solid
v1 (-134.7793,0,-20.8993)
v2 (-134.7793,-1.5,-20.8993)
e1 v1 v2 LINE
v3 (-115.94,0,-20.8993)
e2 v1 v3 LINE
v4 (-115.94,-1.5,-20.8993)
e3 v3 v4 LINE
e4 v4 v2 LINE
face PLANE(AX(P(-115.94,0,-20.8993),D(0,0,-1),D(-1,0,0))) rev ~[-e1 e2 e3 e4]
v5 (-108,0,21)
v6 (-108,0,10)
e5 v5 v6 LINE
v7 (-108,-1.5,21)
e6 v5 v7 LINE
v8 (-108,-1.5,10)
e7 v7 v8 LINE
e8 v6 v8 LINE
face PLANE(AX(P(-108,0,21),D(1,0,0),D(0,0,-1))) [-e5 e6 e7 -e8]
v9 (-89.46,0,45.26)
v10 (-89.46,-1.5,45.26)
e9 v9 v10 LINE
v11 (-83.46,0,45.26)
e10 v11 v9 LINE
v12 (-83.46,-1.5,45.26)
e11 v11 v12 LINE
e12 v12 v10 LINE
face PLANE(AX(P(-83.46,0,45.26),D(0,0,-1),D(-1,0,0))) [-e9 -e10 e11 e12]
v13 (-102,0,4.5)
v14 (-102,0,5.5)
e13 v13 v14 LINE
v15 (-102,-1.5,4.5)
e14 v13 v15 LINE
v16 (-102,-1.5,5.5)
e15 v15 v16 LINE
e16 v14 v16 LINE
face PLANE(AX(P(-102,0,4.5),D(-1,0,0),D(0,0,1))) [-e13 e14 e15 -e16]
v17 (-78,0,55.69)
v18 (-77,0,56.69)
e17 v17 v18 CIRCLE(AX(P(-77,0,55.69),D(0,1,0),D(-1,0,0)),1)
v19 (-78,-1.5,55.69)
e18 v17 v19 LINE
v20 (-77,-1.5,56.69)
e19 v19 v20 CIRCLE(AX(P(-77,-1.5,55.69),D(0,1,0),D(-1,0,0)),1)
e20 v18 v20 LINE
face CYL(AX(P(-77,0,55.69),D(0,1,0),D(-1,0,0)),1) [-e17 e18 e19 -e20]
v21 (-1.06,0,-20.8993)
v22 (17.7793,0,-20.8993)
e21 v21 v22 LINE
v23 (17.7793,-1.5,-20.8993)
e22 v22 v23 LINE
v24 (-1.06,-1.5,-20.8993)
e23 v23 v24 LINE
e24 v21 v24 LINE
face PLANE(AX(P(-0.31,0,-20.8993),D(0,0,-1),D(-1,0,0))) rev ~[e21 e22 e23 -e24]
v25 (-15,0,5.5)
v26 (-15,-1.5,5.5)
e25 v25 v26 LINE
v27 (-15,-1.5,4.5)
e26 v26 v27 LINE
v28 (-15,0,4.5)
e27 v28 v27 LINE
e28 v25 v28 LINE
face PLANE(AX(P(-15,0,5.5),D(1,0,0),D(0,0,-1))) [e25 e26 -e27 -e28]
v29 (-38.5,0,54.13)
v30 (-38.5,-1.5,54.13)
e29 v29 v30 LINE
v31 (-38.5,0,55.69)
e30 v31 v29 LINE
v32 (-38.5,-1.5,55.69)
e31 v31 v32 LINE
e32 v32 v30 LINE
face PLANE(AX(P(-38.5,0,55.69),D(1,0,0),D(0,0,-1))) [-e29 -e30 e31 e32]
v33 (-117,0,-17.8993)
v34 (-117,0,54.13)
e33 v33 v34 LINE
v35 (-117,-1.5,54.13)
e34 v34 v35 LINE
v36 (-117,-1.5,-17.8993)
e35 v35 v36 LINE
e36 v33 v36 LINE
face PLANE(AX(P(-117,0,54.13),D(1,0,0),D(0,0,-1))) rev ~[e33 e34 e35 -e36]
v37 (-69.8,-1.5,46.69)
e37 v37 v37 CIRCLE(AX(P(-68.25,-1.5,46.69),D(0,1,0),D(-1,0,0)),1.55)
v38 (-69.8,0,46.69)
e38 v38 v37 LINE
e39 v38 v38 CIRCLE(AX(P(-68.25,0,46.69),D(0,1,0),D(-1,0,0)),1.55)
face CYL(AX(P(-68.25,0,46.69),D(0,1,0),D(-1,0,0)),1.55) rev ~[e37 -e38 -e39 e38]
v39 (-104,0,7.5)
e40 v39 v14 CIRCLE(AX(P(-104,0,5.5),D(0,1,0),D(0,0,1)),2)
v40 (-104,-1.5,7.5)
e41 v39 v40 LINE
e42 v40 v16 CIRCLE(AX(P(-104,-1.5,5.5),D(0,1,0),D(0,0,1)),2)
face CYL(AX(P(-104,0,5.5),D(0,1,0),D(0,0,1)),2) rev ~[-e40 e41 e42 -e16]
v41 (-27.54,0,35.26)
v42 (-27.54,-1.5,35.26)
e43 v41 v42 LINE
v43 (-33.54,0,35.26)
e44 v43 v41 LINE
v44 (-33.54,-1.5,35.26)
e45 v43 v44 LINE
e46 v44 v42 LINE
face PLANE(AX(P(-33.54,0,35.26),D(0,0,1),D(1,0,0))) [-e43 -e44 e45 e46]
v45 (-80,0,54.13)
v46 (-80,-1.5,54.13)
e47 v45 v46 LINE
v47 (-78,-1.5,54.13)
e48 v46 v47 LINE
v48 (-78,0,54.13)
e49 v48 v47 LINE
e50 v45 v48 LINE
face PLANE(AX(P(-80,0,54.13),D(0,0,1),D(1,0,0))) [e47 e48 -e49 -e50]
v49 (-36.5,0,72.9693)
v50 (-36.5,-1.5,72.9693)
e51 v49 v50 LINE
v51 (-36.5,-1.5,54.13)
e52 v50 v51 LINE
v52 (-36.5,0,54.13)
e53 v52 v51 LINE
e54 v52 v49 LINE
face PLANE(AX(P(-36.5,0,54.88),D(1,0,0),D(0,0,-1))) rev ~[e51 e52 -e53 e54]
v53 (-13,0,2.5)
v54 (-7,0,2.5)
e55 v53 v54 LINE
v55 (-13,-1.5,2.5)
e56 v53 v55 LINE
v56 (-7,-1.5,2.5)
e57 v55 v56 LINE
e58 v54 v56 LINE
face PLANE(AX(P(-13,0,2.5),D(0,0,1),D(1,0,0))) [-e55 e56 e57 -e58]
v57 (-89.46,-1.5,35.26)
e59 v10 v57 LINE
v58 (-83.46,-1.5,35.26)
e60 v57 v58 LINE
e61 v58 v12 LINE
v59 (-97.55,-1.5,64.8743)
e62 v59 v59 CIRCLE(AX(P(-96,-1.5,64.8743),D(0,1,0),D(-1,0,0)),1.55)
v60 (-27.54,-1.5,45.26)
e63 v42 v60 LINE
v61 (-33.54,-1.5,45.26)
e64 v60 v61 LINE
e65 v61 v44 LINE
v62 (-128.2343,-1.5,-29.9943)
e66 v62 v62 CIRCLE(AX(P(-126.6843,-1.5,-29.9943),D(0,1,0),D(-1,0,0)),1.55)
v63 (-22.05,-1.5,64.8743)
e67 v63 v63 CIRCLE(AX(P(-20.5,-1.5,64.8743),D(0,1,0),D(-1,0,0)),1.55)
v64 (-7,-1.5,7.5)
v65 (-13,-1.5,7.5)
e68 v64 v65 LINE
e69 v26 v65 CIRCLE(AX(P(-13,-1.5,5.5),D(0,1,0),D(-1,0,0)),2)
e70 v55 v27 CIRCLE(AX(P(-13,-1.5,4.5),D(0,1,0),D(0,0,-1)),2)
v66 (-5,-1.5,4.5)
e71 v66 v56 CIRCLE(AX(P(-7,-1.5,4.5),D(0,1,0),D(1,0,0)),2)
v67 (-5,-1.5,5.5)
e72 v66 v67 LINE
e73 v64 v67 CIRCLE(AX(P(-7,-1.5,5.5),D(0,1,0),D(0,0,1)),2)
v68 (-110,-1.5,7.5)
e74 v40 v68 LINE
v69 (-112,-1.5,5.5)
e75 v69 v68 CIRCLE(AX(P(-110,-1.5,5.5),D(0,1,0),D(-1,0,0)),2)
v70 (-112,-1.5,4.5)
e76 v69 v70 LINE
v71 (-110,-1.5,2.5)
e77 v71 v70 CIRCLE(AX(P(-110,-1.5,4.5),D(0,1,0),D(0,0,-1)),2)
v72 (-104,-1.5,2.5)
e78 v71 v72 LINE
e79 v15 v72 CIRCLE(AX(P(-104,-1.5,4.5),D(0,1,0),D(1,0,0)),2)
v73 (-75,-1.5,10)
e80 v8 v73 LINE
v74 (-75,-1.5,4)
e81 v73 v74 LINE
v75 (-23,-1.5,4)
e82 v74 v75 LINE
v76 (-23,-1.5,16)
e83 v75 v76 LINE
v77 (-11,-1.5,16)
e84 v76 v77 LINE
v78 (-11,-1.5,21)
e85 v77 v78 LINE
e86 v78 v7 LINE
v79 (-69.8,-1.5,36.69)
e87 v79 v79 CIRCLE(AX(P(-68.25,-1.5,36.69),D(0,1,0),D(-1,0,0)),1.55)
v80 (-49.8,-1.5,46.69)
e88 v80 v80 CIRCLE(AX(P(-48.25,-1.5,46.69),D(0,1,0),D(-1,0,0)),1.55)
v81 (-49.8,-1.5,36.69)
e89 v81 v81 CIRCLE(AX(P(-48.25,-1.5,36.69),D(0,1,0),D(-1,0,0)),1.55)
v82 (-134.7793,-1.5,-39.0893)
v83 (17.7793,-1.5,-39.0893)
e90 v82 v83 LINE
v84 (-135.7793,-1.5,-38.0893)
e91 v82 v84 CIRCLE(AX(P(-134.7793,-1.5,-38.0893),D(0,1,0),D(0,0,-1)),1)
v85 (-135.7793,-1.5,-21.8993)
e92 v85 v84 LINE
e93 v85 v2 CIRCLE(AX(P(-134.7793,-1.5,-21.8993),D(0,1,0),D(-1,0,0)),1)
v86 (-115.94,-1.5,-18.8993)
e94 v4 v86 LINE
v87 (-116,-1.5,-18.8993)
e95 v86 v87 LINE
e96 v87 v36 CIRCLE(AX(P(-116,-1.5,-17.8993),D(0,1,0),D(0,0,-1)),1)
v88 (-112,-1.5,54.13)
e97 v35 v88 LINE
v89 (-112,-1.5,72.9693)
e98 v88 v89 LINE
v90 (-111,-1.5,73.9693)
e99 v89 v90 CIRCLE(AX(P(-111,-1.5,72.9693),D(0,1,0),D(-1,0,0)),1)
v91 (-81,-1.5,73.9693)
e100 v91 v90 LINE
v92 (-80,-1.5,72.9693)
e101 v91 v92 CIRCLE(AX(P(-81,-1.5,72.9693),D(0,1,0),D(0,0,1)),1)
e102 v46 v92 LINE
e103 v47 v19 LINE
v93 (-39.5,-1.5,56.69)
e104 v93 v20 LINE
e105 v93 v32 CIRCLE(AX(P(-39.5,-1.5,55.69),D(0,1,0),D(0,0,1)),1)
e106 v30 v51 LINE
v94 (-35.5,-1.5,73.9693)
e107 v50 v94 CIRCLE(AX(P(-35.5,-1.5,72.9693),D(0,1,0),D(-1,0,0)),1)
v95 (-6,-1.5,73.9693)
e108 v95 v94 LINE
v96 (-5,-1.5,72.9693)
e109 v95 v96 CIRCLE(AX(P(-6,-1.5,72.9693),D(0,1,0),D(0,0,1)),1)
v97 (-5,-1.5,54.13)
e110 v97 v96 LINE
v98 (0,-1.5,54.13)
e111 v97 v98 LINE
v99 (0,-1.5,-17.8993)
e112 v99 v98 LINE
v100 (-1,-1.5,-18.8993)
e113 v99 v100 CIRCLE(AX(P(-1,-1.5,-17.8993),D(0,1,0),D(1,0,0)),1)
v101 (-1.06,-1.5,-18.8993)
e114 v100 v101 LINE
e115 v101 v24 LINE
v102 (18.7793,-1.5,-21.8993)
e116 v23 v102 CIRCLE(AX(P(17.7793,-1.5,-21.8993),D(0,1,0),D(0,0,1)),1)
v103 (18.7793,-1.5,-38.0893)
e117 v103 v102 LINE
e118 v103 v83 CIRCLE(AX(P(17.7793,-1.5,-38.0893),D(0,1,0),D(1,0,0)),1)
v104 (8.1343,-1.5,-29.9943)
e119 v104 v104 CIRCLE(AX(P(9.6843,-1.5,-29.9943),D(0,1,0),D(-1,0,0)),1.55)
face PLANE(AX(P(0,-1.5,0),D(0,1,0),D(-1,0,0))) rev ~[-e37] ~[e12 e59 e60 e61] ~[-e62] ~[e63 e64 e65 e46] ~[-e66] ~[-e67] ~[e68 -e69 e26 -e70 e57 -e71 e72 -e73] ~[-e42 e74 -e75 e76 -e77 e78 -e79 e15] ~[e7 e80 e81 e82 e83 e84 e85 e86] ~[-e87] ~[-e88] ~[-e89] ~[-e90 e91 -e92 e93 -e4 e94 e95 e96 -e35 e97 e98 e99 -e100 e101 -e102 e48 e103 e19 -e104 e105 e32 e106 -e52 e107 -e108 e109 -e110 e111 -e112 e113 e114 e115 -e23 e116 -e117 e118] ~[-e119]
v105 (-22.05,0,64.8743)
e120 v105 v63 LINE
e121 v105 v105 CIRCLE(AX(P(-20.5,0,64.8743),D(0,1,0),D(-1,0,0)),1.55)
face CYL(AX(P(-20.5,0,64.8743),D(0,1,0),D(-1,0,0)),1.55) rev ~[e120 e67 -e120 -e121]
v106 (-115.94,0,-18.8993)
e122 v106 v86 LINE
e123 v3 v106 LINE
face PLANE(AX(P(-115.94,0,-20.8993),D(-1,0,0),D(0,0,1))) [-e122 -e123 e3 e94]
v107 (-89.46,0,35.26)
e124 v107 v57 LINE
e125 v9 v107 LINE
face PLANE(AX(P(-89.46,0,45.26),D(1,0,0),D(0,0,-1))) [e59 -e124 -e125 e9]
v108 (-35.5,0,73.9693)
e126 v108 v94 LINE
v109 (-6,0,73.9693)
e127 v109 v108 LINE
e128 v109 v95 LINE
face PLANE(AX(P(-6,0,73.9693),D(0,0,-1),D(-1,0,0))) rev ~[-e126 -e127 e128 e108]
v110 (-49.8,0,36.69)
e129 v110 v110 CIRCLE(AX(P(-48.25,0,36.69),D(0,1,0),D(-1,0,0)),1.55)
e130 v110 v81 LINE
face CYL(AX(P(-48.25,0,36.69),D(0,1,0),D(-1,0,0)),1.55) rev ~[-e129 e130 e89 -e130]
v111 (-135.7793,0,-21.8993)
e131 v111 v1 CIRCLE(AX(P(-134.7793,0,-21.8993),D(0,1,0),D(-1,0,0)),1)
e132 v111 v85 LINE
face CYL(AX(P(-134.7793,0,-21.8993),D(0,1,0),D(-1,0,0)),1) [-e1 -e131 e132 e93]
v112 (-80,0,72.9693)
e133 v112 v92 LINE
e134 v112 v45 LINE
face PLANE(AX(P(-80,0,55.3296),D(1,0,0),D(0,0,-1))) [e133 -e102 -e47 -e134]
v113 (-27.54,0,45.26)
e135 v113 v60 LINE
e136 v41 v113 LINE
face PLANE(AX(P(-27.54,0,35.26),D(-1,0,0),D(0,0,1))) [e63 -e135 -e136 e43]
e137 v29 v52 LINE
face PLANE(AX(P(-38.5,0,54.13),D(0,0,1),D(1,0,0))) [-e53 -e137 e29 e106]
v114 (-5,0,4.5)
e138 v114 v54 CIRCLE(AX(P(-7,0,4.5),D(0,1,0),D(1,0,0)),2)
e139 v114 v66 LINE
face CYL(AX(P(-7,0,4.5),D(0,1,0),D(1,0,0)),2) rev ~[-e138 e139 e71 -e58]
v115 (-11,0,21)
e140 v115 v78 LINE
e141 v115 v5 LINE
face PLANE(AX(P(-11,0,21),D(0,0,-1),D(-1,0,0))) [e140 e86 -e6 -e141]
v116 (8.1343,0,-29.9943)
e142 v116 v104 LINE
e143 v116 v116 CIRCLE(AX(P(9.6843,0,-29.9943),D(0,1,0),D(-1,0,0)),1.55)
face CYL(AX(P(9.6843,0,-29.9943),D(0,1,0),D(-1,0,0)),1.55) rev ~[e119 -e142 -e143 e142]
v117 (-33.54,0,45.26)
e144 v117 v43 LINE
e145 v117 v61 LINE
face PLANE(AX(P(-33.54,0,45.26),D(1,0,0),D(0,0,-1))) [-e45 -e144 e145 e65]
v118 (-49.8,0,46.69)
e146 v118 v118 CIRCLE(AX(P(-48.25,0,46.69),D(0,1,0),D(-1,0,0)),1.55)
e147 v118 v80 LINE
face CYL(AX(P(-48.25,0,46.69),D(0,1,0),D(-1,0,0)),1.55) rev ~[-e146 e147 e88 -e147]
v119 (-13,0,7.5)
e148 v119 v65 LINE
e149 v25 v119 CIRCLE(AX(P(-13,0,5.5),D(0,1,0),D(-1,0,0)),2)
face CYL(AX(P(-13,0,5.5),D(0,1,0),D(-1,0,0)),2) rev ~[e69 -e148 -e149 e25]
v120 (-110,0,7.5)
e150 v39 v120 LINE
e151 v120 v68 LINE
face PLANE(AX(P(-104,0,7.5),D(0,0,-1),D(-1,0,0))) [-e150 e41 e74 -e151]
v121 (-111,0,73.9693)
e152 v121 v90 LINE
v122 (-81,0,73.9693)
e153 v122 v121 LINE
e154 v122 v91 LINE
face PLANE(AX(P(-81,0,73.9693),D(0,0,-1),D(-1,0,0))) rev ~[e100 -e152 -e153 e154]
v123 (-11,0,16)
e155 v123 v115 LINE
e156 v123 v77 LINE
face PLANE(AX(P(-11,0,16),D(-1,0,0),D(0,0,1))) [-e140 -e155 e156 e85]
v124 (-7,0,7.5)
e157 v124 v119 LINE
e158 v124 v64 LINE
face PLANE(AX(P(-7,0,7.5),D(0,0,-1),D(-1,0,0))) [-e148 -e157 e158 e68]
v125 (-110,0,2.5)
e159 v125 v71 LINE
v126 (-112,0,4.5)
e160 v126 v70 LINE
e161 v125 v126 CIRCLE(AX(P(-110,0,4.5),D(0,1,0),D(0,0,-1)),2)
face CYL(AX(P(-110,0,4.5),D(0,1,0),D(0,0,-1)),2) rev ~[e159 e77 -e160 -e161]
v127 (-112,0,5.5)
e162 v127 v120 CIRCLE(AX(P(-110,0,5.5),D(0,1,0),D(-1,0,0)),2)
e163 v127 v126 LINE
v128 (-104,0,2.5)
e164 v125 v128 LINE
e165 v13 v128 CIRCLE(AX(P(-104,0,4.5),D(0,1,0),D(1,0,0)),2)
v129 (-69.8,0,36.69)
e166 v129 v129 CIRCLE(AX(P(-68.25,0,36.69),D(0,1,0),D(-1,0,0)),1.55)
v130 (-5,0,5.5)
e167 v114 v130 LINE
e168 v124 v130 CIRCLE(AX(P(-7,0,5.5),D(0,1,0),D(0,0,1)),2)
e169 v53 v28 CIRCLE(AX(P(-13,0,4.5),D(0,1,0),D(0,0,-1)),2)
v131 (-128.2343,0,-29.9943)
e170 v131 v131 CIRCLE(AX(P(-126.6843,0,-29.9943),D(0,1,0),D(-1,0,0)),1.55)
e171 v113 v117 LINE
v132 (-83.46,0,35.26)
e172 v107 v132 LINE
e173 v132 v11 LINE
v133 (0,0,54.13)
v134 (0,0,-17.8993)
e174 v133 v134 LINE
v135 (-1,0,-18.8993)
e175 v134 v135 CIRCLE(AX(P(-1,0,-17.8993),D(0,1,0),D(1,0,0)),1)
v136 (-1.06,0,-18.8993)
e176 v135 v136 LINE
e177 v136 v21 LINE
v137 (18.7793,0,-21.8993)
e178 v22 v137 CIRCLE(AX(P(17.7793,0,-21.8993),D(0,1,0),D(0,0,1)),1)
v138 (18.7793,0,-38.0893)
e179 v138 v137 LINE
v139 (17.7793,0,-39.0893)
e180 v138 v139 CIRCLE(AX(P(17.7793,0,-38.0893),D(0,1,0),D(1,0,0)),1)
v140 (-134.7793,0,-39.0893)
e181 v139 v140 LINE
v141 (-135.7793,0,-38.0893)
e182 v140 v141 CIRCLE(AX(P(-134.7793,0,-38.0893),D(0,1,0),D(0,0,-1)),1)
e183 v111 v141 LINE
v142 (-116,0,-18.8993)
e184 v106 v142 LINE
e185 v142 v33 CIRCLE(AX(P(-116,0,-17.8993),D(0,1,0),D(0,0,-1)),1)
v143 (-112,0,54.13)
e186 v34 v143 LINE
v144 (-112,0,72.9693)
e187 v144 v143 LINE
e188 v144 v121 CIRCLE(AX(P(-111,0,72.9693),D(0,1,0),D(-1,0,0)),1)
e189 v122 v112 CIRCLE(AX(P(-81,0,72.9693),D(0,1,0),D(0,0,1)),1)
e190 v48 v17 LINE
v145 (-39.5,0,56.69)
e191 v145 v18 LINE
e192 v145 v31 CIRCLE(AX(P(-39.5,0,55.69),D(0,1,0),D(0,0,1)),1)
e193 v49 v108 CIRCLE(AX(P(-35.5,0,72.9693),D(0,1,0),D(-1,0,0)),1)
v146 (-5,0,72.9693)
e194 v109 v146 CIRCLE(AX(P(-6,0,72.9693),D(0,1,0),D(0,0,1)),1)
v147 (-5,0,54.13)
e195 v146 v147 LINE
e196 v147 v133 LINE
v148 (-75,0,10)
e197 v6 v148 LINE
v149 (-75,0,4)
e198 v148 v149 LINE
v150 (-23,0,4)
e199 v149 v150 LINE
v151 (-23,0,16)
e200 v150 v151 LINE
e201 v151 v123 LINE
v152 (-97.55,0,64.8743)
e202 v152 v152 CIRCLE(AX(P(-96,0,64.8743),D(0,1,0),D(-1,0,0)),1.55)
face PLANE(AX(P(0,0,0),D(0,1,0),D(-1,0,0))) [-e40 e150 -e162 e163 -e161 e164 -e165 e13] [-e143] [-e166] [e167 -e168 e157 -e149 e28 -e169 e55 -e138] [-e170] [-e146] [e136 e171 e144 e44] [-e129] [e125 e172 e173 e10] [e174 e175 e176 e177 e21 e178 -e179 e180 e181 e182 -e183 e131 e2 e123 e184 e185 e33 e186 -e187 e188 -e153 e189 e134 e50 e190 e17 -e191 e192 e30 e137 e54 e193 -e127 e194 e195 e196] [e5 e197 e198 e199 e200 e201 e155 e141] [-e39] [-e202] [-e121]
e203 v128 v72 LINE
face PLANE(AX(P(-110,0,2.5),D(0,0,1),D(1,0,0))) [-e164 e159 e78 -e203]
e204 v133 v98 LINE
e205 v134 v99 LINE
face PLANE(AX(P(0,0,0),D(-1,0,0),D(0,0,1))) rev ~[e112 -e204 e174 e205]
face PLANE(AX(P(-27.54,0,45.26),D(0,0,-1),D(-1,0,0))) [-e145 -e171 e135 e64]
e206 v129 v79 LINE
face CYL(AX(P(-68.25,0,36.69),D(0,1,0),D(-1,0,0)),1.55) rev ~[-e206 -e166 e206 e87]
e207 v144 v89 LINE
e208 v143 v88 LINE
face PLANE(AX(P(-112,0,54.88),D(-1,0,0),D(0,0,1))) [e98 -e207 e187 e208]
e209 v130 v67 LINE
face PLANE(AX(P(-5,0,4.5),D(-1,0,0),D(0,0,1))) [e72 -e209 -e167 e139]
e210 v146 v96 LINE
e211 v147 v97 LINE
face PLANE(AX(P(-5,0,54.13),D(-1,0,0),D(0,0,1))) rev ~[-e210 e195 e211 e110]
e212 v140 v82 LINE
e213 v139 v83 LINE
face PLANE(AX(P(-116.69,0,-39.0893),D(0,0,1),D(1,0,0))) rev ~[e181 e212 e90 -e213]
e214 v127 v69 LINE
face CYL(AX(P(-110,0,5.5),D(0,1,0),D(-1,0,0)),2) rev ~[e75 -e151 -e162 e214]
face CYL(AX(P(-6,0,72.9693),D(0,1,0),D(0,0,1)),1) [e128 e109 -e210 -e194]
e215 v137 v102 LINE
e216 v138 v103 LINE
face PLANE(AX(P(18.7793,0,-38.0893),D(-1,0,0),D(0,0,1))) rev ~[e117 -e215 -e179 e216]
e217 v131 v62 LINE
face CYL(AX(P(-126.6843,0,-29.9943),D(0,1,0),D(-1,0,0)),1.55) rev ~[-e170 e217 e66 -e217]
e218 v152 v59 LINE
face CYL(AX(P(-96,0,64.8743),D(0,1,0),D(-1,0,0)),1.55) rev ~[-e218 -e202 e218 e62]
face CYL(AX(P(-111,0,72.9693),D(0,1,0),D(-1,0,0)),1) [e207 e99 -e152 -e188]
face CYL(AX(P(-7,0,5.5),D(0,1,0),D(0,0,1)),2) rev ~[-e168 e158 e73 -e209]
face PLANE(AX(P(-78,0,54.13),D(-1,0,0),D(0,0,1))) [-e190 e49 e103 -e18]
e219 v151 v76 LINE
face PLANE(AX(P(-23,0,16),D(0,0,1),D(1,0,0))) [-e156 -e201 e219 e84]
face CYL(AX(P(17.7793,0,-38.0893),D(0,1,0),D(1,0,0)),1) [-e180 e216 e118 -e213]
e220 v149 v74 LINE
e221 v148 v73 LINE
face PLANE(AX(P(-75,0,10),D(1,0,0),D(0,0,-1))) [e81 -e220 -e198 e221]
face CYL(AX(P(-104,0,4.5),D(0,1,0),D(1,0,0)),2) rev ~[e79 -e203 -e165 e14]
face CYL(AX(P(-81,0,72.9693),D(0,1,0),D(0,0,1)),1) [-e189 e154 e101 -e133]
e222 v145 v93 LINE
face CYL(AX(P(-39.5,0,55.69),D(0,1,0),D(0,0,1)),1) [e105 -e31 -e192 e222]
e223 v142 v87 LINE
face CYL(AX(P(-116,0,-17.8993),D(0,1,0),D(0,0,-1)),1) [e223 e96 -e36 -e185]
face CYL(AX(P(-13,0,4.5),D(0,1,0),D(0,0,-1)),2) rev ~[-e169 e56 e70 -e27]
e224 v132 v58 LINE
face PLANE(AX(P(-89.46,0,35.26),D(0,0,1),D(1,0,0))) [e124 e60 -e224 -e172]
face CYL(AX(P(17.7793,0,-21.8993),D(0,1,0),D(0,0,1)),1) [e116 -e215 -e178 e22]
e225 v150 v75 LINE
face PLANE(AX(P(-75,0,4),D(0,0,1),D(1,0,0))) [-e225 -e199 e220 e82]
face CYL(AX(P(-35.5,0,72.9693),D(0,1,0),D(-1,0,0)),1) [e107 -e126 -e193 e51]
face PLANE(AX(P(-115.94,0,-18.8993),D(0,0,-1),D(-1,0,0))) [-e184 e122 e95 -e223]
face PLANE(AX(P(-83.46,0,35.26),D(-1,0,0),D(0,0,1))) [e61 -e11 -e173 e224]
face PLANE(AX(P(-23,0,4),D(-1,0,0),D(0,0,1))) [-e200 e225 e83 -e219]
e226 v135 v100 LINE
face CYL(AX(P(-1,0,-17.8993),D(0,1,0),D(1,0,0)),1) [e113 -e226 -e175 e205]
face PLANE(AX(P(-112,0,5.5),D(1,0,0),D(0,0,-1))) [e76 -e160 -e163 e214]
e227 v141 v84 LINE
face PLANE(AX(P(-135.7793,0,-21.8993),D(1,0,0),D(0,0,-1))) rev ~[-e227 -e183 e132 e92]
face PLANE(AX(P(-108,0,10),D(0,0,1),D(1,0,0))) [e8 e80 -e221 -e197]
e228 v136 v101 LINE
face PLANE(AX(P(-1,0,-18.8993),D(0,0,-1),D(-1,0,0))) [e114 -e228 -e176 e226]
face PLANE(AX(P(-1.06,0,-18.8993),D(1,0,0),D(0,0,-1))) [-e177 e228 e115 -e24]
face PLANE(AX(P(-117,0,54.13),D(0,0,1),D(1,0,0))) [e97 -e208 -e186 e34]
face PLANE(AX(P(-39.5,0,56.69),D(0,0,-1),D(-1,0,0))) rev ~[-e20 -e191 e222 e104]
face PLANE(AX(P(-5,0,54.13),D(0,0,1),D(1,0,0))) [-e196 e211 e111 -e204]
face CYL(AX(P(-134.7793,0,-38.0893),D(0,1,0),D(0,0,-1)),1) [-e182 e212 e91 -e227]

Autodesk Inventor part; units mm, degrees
ref_plane "YZ Plane" through (0, 0, 0) normal (1, 0, 0) x (0, 1, 0)
ref_plane "XZ Plane" through (0, 0, 0) normal (0, 1, 0) x (-1, 0, 0)
ref_plane "XY Plane" through (0, 0, 0) normal (0, 0, 1) x (1, 0, 0)
sketch "Sketch1" plane through (0, 0, 0) normal (0, 1, 0) x (-1, 0, 0)
  line L0 (112, 55.3296) -> (80, 55.3296)
  line L1 (117.1396, -39.0893) -> (117.1396, -20.8993)
  line L2 (117, -0.4496) -> (0, -0.4496)
  line L3 (36.5, 55.3296) -> (5, 55.3296)
  line L4 (-0.1396, -20.8993) -> (-0.1396, -39.0893)
  circle A0 centre (48.25, 46.69) radius 1.55
  circle A1 centre (48.25, 36.69) radius 1.55
  circle A2 centre (68.25, 46.69) radius 1.55
  circle A3 centre (68.25, 36.69) radius 1.55
  line L5 (83.46, 35.26) -> (83.46, 45.26)
  line L6 (89.46, 35.26) -> (83.46, 35.26)
  line L7 (89.46, 45.26) -> (89.46, 35.26)
  line L8 (83.46, 45.26) -> (89.46, 45.26)
  line L9 (33.54, 45.26) -> (33.54, 35.26)
  line L10 (27.54, 45.26) -> (33.54, 45.26)
  line L11 (27.54, 35.26) -> (27.54, 45.26)
  line L12 (33.54, 35.26) -> (27.54, 35.26)
  line L13 (108, 21) -> (108, 10)
  line L14 (11, 21) -> (108, 21)
  line L15 (11, 16) -> (11, 21)
  line L16 (23, 16) -> (11, 16)
  line L17 (23, 4) -> (23, 16)
  line L18 (75, 4) -> (23, 4)
  line L19 (75, 10) -> (75, 4)
  line L20 (108, 10) -> (75, 10)
  arc A4 (112, 5.5) -> (110, 7.5) centre (110, 5.5) ccw
  line L21 (104, 7.5) -> (110, 7.5)
  arc A5 (110, 2.5) -> (112, 4.5) centre (110, 4.5) ccw
  line L22 (110, 2.5) -> (104, 2.5)
  arc A6 (102, 4.5) -> (104, 2.5) centre (104, 4.5) ccw
  line L23 (102, 4.5) -> (102, 5.5)
  arc A7 (104, 7.5) -> (102, 5.5) centre (104, 5.5) ccw
  arc A8 (15, 5.5) -> (13, 7.5) centre (13, 5.5) ccw
  line L24 (7, 7.5) -> (13, 7.5)
  arc A9 (13, 2.5) -> (15, 4.5) centre (13, 4.5) ccw
  line L25 (13, 2.5) -> (7, 2.5)
  arc A10 (5, 4.5) -> (7, 2.5) centre (7, 4.5) ccw
  line L26 (5, 4.5) -> (5, 5.5)
  arc A11 (7, 7.5) -> (5, 5.5) centre (7, 5.5) ccw
  line L27 (112, 5.5) -> (112, 4.5)
  line L28 (15, 5.5) -> (15, 4.5)
  circle A12 centre (20.5, 64.8743) radius 1.55
  circle A13 centre (96, 64.8743) radius 1.55
  circle A14 centre (-9.6843, -29.9943) radius 1.55
  circle A15 centre (126.6843, -29.9943) radius 1.55
  arc A16 (0, -17.8993) -> (1, -18.8993) centre (1, -17.8993) ccw
  arc A17 (116, -18.8993) -> (117, -17.8993) centre (116, -17.8993) ccw
  line L29 (115.94, -18.8993) -> (116, -18.8993)
  arc A18 (135.7793, -21.8993) -> (134.7793, -20.8993) centre (134.7793, -21.8993) ccw
  arc A19 (134.7793, -39.0893) -> (135.7793, -38.0893) centre (134.7793, -38.0893) ccw
  line L30 (134.7793, -39.0893) -> (-17.7793, -39.0893)
  arc A20 (-18.7793, -38.0893) -> (-17.7793, -39.0893) centre (-17.7793, -38.0893) ccw
  arc A21 (-17.7793, -20.8993) -> (-18.7793, -21.8993) centre (-17.7793, -21.8993) ccw
  line L31 (-17.7793, -20.8993) -> (1.06, -20.8993)
  arc A22 (39.5, 56.69) -> (38.5, 55.69) centre (39.5, 55.69) ccw
  line L32 (39.5, 56.69) -> (77, 56.69)
  arc A23 (78, 55.69) -> (77, 56.69) centre (77, 55.69) ccw
  arc A24 (81, 73.9693) -> (80, 72.9693) centre (81, 72.9693) ccw
  arc A25 (112, 72.9693) -> (111, 73.9693) centre (111, 72.9693) ccw
  arc A26 (6, 73.9693) -> (5, 72.9693) centre (6, 72.9693) ccw
  arc A27 (36.5, 72.9693) -> (35.5, 73.9693) centre (35.5, 72.9693) ccw
  line L33 (36.5, 72.9693) -> (36.5, 54.13)
  line L34 (6, 73.9693) -> (35.5, 73.9693)
  line L35 (38.5, 55.69) -> (38.5, 54.13)
  line L36 (38.5, 54.13) -> (36.5, 54.13)
  line L37 (5, 54.13) -> (5, 72.9693)
  line L38 (5, 54.13) -> (0, 54.13)
  line L39 (0, -17.8993) -> (0, 54.13)
  line L40 (81, 73.9693) -> (111, 73.9693)
  line L41 (112, 54.13) -> (112, 72.9693)
  line L42 (117, 54.13) -> (112, 54.13)
  line L43 (78, 54.13) -> (78, 55.69)
  line L44 (80, 72.9693) -> (80, 54.13)
  line L45 (80, 54.13) -> (78, 54.13)
  line L46 (117, 54.13) -> (117, -17.8993)
  line L47 (-18.7793, -38.0893) -> (-18.7793, -21.8993)
  line L48 (135.7793, -21.8993) -> (135.7793, -38.0893)
  line L49 (115.94, -20.8993) -> (134.7793, -20.8993)
  line L50 (115.94, -20.8993) -> (115.94, -18.8993)
  line L51 (1, -18.8993) -> (1.06, -18.8993)
  line L52 (1.06, -18.8993) -> (1.06, -20.8993)
  line L53 (-0.5893, -39.0893) -> (-0.5893, -20.8993)
  line L54 (117.5893, -20.8993) -> (117.5893, -39.0893)
  line L55 (0.31, -20.8993) -> (0.31, -39.0893)
  line L56 (116.69, -39.0893) -> (116.69, -20.8993)
  line L57 (5, 55.7793) -> (36.5, 55.7793)
  line L58 (117, -0.8993) -> (0, -0.8993)
  line L59 (80, 55.7793) -> (112, 55.7793)
  line L60 (36.5, 54.88) -> (5, 54.88)
  line L61 (0, 0) -> (117, 0)
  line L62 (112, 54.88) -> (80, 54.88)
extrude "Extrusion1" add sketch "Sketch1" against normal blind 1.5
properties part number "body_top_frame"
